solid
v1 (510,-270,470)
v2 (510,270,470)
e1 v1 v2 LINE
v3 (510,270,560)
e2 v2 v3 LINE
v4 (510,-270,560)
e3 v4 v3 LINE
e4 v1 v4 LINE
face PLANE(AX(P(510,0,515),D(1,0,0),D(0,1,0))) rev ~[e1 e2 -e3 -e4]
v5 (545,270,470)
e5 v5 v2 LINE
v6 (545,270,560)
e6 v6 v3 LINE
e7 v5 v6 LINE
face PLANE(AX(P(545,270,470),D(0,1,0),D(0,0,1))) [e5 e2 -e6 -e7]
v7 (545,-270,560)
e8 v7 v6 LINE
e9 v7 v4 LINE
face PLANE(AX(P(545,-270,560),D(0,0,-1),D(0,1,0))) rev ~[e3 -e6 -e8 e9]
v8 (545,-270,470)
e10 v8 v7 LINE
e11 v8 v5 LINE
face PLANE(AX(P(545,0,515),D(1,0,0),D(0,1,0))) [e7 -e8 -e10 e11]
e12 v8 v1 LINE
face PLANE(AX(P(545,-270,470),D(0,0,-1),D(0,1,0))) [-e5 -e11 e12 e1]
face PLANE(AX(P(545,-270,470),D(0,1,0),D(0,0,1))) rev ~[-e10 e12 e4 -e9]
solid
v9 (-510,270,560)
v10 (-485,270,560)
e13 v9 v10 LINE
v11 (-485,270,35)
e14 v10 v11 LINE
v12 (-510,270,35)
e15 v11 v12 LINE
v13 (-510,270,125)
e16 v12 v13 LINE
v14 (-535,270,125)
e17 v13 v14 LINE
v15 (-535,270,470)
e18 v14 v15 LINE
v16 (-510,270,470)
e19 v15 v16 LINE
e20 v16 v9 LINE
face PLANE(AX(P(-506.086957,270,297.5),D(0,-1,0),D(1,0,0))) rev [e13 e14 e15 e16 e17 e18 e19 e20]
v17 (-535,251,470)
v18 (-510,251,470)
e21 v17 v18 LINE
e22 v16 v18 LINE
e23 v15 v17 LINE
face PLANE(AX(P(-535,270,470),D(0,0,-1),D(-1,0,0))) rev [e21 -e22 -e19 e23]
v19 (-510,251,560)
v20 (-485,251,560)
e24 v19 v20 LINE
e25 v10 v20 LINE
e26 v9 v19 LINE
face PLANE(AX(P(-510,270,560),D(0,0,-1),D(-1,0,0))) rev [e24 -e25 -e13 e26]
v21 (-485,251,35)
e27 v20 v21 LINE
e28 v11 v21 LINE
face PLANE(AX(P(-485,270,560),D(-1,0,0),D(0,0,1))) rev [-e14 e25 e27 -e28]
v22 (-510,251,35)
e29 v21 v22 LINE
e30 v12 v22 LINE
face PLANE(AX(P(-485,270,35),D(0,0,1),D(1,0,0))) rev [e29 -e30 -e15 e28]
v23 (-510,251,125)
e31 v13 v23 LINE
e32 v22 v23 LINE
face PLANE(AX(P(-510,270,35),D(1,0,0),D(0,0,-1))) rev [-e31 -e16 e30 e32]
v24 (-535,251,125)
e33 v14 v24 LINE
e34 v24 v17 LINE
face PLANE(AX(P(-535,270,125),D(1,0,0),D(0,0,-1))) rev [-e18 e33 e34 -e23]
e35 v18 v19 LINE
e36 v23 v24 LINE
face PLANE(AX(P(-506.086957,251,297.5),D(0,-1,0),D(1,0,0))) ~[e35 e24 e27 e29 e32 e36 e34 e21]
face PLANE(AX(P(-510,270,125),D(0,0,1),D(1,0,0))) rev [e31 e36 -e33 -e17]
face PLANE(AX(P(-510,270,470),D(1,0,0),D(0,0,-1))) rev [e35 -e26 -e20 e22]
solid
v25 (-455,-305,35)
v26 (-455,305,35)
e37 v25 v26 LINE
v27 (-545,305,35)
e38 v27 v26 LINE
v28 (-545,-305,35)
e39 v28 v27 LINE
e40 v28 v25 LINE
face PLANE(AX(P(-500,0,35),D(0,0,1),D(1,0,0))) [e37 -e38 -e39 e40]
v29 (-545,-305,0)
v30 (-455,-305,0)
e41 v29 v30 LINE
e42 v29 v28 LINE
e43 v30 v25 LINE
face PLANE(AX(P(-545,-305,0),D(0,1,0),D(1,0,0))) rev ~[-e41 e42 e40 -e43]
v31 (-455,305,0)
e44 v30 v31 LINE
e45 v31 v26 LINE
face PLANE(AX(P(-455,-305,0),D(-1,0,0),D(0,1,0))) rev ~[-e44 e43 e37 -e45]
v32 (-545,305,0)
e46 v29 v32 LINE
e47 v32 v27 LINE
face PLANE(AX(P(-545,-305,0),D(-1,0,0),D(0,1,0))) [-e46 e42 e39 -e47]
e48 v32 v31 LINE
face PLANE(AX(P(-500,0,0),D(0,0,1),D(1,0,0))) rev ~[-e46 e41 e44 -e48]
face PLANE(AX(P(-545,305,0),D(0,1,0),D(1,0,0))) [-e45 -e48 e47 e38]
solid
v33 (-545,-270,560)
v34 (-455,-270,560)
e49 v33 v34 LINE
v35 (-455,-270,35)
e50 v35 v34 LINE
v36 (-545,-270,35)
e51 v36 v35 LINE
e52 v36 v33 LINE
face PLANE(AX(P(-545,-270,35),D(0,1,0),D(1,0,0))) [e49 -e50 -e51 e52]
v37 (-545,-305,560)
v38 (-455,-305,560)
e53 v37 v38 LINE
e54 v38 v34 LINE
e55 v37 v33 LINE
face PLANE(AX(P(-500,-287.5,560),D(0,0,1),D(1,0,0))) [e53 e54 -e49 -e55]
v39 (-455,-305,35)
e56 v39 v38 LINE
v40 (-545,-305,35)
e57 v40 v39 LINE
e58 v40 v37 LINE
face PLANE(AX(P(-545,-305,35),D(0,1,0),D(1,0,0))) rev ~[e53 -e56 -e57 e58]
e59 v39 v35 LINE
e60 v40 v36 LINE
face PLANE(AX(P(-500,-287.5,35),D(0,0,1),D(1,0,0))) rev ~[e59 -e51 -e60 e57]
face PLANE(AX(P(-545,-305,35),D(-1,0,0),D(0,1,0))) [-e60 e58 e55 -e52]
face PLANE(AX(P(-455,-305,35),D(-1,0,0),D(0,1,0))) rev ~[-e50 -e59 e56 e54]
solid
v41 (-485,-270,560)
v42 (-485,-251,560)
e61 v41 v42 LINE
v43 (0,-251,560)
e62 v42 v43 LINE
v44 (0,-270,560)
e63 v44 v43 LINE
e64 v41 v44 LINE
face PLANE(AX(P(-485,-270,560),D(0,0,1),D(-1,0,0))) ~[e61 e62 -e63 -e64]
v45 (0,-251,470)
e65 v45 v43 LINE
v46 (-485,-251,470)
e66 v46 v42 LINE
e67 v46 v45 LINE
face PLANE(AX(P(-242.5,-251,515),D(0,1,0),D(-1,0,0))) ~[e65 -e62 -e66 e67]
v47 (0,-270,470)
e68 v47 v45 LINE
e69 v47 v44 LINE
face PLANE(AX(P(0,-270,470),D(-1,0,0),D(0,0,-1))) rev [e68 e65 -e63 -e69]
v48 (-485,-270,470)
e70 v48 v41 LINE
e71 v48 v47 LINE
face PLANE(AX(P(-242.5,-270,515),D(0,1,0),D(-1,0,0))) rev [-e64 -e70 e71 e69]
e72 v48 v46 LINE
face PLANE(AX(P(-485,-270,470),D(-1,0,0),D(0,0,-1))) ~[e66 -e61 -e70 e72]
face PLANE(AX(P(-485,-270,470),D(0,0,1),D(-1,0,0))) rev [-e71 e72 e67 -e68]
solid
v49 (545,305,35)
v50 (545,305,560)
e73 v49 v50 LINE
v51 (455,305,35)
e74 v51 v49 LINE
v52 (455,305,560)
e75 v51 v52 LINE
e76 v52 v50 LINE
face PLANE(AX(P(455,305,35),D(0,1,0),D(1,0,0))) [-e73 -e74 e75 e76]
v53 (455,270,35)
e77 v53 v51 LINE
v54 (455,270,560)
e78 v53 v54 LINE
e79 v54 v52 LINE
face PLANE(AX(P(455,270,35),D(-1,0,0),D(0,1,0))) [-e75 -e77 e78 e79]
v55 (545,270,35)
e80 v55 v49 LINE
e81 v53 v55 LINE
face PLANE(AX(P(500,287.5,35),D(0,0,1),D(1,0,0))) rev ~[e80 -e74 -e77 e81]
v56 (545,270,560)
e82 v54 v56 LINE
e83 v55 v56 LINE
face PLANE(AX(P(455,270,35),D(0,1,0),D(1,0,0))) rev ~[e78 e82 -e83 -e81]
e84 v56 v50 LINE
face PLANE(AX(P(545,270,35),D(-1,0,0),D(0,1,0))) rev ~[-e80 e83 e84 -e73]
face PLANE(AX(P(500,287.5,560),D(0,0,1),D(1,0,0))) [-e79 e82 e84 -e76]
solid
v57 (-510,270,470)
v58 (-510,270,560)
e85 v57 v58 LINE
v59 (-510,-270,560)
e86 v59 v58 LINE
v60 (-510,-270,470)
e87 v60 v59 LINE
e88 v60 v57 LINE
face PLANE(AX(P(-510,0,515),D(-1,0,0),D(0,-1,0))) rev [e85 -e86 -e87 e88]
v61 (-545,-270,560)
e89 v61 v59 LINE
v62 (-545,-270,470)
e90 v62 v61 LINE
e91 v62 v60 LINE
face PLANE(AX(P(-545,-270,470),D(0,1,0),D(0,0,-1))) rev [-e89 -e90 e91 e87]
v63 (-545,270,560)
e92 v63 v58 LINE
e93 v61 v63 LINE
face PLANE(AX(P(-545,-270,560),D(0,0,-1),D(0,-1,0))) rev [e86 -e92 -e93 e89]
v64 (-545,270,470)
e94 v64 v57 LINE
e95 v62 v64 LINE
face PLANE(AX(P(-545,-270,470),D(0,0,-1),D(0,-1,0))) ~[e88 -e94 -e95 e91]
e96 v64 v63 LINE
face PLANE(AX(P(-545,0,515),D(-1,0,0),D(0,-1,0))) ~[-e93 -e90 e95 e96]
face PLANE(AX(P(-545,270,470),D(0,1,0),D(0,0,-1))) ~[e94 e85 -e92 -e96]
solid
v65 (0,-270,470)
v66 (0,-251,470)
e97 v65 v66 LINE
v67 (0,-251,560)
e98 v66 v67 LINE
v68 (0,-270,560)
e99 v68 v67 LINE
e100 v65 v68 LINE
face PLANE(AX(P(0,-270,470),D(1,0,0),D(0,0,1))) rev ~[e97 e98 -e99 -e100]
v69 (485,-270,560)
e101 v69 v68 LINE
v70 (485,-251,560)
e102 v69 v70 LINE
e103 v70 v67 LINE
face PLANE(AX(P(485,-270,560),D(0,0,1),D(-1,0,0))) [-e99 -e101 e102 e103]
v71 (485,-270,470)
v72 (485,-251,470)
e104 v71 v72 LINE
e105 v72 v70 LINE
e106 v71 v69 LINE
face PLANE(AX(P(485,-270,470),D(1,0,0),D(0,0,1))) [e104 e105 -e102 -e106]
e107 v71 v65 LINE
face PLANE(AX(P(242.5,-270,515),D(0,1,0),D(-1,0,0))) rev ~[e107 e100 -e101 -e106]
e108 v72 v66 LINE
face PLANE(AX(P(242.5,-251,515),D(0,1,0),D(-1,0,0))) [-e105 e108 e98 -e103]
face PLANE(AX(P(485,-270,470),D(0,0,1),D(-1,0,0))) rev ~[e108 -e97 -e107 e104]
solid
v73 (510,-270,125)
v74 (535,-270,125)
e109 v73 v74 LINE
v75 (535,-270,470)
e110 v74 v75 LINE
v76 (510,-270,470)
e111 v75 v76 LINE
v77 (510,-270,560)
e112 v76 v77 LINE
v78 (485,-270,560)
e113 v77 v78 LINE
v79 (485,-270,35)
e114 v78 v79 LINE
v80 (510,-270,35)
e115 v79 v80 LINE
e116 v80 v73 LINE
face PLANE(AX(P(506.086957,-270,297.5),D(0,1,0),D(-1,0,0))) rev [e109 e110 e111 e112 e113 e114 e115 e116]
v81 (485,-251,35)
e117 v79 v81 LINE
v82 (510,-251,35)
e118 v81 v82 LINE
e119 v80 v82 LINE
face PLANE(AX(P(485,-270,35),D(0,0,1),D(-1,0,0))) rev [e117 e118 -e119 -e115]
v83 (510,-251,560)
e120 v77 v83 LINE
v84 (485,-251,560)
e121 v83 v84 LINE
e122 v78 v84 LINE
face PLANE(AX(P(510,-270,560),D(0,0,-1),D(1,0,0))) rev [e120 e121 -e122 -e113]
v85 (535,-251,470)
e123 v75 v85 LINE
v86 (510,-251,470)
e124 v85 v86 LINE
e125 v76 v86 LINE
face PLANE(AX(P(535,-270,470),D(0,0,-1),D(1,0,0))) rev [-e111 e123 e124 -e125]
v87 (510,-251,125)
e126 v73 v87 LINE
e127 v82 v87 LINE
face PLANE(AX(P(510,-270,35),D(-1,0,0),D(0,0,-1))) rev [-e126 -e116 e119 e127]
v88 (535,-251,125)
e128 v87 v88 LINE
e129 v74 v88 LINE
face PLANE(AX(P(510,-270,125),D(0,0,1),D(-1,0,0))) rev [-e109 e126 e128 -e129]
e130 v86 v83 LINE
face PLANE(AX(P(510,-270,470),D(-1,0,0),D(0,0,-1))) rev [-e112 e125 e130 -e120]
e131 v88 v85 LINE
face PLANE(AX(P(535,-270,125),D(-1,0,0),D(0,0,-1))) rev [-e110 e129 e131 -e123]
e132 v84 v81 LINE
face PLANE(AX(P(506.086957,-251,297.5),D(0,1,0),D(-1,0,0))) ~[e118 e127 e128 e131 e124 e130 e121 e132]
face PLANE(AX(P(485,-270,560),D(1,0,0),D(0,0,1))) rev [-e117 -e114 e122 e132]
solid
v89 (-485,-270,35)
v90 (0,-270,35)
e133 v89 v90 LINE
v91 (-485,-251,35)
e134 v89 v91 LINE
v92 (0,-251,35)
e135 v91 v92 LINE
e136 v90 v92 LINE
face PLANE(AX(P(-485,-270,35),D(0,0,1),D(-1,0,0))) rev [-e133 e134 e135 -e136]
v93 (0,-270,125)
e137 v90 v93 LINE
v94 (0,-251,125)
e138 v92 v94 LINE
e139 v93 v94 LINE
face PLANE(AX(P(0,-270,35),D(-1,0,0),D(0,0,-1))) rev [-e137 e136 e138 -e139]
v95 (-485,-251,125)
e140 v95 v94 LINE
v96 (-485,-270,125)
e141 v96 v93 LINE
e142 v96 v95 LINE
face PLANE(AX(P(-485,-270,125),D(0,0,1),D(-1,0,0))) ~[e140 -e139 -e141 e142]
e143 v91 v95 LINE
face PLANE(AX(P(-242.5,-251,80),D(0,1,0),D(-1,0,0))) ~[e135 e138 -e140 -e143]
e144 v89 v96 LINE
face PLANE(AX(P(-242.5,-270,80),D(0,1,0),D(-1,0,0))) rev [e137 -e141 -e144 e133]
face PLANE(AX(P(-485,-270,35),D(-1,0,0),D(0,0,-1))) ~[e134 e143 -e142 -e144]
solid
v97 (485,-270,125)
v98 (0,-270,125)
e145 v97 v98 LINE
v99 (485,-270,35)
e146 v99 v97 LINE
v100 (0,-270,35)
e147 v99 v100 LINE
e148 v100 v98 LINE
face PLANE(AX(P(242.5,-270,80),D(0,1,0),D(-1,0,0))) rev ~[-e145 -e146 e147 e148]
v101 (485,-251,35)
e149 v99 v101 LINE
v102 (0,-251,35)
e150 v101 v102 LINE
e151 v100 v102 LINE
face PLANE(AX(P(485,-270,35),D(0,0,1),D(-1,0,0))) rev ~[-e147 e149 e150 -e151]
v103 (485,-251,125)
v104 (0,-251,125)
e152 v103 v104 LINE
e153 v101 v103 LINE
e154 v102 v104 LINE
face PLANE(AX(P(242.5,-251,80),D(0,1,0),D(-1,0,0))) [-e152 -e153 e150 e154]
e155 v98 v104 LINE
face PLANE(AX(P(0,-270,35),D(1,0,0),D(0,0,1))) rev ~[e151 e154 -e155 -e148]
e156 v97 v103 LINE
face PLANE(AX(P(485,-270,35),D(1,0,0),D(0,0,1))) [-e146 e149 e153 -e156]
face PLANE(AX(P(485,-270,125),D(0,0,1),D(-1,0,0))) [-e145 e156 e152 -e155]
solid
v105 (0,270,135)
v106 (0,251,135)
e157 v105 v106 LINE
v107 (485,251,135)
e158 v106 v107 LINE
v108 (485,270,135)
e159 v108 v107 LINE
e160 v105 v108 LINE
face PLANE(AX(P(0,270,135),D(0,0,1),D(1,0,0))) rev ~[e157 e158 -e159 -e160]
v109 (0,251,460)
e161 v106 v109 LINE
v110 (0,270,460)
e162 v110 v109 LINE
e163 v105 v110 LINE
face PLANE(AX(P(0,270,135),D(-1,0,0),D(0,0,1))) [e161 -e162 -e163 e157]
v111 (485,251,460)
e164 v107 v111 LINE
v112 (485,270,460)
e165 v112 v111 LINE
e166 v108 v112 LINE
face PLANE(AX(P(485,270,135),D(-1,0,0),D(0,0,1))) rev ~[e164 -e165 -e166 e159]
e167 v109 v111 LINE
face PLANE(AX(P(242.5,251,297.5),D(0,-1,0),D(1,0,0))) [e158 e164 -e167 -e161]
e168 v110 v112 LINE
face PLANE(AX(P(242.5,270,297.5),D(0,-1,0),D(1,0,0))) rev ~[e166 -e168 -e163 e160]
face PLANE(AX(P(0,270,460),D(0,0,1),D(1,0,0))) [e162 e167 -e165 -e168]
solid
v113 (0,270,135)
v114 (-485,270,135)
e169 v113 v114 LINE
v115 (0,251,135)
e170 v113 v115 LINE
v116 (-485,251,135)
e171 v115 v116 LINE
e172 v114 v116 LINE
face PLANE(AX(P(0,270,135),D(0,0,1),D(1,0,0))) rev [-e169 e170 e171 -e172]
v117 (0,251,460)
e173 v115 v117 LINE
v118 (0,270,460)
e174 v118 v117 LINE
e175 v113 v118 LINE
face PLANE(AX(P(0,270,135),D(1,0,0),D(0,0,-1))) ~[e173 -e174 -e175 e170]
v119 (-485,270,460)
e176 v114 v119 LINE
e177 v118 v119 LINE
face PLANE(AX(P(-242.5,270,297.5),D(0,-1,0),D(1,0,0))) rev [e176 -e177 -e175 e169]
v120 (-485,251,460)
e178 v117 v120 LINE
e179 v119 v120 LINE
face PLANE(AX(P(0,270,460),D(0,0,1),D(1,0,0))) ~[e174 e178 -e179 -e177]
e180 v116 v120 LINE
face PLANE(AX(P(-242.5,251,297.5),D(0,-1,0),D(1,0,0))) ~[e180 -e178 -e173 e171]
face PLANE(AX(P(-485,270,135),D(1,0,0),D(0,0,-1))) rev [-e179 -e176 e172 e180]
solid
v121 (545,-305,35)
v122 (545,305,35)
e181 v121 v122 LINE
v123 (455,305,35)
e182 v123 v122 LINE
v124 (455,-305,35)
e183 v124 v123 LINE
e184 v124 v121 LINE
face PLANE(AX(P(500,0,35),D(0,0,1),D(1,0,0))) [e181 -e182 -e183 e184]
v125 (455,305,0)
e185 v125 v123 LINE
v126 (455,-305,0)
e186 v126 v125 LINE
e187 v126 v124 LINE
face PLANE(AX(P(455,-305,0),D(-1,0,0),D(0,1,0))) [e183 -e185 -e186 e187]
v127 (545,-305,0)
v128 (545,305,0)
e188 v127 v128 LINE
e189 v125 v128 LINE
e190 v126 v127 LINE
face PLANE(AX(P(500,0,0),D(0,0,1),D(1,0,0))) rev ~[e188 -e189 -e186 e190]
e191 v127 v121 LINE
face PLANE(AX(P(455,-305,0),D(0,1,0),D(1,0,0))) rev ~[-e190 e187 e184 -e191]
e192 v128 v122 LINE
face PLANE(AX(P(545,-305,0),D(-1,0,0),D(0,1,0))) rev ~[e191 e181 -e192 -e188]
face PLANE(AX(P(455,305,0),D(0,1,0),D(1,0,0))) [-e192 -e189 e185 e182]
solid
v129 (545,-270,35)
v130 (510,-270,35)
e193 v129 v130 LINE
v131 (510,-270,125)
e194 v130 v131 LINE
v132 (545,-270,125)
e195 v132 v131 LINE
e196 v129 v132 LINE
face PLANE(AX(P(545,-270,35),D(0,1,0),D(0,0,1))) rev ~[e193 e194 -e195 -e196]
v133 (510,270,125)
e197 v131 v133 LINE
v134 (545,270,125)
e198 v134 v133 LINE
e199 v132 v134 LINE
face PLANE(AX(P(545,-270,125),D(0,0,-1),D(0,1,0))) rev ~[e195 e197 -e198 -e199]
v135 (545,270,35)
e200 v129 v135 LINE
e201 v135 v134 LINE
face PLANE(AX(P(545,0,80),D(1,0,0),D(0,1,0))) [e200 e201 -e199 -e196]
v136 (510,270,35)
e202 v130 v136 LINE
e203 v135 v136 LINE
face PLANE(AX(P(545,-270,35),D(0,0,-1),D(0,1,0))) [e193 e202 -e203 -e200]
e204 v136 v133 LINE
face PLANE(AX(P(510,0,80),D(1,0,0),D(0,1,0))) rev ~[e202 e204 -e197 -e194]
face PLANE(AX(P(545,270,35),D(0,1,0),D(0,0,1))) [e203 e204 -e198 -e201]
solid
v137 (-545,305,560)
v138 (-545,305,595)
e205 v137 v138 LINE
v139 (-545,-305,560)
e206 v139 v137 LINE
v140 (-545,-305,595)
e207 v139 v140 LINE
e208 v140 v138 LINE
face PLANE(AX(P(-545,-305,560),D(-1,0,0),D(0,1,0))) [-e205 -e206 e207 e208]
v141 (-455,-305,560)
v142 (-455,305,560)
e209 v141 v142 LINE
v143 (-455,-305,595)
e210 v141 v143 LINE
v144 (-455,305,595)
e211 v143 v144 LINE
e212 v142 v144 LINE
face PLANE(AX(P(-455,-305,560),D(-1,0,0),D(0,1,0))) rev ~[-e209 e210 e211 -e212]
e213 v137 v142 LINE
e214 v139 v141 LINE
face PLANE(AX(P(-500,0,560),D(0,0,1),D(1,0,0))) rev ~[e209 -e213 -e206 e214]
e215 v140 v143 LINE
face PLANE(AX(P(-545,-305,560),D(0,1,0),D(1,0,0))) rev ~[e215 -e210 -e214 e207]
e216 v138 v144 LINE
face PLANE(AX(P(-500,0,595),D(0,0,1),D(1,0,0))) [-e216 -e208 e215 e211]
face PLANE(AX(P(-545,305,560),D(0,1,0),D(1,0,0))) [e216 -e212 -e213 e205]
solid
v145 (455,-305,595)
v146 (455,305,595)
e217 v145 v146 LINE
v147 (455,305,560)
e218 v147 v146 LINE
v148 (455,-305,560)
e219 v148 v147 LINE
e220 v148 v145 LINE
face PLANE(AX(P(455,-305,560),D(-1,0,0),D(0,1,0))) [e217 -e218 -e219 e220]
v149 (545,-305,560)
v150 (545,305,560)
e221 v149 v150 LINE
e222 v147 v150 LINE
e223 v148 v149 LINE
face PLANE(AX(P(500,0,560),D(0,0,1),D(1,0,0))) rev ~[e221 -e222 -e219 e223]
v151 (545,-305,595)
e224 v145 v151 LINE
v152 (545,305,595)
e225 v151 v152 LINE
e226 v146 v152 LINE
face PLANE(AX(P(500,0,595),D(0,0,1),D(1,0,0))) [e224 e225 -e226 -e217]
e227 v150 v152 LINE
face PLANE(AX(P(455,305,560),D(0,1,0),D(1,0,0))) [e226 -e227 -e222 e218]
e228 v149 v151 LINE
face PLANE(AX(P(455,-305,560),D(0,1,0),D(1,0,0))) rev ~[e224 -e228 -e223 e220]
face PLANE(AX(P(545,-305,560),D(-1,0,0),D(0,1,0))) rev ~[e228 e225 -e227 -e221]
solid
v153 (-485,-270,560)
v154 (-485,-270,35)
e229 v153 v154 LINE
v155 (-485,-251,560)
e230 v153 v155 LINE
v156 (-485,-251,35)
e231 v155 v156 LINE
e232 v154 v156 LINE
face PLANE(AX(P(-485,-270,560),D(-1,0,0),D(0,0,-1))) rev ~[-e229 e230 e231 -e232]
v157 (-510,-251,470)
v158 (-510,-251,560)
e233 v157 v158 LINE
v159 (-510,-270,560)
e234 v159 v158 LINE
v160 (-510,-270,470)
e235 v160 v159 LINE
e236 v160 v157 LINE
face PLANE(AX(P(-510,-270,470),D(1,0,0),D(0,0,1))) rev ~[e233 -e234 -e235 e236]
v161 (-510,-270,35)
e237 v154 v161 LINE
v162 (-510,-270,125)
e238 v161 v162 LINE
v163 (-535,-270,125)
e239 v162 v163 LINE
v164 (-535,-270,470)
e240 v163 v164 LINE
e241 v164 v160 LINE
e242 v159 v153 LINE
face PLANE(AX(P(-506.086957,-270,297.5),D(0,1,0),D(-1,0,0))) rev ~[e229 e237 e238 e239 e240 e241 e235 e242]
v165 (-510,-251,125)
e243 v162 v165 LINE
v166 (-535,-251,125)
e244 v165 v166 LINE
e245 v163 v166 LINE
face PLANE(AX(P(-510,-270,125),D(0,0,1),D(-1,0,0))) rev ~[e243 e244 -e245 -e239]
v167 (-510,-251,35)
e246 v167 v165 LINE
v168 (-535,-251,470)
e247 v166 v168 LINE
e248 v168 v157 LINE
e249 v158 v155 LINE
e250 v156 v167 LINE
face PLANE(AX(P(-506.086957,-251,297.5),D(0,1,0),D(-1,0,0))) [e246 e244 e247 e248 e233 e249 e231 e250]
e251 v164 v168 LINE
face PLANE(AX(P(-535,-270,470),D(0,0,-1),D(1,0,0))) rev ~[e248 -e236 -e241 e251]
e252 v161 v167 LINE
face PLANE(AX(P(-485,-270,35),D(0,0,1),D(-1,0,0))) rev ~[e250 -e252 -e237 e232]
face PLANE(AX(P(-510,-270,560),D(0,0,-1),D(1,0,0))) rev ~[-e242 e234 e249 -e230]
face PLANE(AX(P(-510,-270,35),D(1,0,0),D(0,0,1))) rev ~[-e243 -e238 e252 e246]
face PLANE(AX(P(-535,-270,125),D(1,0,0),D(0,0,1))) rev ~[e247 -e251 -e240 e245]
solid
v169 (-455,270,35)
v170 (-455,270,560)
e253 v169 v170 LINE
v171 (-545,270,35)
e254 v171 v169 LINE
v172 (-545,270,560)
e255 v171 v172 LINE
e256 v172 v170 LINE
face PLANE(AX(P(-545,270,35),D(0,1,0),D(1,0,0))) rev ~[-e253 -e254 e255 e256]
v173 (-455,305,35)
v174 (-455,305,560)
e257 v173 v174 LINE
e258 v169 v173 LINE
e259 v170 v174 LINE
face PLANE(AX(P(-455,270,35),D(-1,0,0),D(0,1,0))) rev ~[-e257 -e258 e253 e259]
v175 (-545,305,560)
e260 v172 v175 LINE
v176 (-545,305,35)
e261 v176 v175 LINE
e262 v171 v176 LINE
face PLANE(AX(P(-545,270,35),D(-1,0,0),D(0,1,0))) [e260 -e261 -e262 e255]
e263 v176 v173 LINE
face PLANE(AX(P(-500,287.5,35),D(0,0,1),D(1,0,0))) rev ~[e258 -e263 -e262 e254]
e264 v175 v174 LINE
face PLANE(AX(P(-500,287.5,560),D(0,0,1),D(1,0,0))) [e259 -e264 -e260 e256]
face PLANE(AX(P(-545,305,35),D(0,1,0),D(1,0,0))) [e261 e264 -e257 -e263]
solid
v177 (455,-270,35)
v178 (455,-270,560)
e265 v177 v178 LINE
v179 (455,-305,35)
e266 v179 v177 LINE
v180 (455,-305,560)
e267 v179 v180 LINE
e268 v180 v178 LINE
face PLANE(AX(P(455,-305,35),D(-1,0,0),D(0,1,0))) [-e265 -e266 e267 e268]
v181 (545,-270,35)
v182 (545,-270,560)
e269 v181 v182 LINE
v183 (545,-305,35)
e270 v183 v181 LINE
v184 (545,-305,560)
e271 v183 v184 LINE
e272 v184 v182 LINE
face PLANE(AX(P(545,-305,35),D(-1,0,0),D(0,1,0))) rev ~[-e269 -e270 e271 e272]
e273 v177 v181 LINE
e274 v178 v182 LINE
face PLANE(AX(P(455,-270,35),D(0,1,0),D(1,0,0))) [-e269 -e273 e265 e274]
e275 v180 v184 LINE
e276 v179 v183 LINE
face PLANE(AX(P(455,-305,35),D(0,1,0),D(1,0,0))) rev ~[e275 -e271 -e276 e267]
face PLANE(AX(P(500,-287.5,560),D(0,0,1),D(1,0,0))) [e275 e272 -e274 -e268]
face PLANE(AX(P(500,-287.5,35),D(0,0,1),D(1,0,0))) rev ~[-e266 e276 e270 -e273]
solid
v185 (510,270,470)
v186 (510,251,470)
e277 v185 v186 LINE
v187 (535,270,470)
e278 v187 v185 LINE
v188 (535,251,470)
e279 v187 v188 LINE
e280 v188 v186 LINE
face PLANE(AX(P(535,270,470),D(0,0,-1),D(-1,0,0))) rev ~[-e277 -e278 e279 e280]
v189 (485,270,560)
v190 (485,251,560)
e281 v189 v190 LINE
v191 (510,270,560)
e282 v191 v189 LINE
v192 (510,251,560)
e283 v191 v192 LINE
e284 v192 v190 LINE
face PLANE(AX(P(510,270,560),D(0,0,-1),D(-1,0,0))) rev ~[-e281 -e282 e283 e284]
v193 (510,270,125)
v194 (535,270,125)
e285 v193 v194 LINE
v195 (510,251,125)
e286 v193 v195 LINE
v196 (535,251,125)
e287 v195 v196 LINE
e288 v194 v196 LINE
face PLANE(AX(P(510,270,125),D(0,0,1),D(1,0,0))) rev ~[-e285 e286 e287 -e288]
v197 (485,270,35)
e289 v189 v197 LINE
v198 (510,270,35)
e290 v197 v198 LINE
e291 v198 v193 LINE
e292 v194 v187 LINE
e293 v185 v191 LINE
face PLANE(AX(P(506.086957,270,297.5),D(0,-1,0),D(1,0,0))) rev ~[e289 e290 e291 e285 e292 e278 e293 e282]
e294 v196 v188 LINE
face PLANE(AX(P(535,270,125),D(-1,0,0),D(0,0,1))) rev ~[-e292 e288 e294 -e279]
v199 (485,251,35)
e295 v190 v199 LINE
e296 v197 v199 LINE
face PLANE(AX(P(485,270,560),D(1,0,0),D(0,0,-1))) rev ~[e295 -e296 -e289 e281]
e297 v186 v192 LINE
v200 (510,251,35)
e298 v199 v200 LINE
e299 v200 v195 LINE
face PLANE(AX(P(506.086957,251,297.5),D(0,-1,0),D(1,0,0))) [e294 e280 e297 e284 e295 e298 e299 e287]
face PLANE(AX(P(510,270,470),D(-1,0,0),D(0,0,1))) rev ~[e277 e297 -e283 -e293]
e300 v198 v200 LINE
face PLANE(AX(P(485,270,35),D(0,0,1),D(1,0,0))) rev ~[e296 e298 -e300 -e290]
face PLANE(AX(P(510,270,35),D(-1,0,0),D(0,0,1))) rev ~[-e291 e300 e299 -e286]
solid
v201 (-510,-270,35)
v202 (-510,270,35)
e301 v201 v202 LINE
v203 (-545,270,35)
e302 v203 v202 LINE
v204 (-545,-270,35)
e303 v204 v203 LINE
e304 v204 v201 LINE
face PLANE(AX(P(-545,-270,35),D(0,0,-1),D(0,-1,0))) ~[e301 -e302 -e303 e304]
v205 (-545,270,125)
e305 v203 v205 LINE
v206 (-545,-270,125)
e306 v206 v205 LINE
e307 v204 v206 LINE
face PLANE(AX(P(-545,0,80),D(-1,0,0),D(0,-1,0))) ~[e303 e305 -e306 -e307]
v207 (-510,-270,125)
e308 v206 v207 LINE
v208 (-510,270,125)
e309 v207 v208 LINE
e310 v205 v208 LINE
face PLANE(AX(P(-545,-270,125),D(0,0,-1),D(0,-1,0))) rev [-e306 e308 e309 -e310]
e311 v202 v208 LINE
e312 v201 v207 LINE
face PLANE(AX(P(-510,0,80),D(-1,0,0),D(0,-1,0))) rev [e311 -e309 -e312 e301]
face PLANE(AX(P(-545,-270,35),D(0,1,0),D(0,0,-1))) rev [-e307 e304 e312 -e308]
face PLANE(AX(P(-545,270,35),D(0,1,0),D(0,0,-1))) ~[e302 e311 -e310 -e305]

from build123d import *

# Parameters (mm, degrees)
F0_W      = 90
F0_H      = 610
F1_DEPTH  = 35
F2_W      = 90
F2_H      = 35
F3_DEPTH  = 525
F4_W      = 90
F4_H      = 610
F5_DEPTH  = 35
F6_W      = 540
F6_H      = 90
F7_DEPTH  = 35
F9_DEPTH  = 19
F11_W     = 485
F11_H     = 325
F12_DEPTH = 19
F13_W     = 485
F13_H     = 90
F14_DEPTH = 19


with BuildPart() as f1:
    # F0 (on Top) → F1 (new body)
    with BuildSketch(Plane.XY):
        with Locations((-500, 0)):
            Rectangle(F0_W, F0_H)
        with Locations((500, 0)):
            Rectangle(F0_W, F0_H)
    extrude(amount=F1_DEPTH)


with BuildPart() as f3:
    # F2 (on face) → F3 (new body)
    with BuildSketch(Plane.XY.offset(35)):
        with Locations((-500, 287.5)):
            Rectangle(F2_W, F2_H)
        with Locations((-500, -287.5)):
            Rectangle(F2_W, F2_H)
        with Locations((500, 287.5)):
            Rectangle(F2_W, F2_H)
        with Locations((500, -287.5)):
            Rectangle(F2_W, F2_H)
    extrude(amount=F3_DEPTH)


with BuildPart() as f5:
    # F4 (on face) → F5 (new body)
    with BuildSketch(Plane.XY.offset(560)):
        with Locations((-500, 0)):
            Rectangle(F4_W, F4_H)
        with Locations((500, 0)):
            Rectangle(F4_W, F4_H)
    extrude(amount=F5_DEPTH)


with BuildPart() as f7:
    # F6 (on face) → F7 (new body)
    with BuildSketch(Plane.YZ.offset(545)):
        with Locations((0, 80)):
            Rectangle(F6_W, F6_H)
        with Locations((0, 515)):
            Rectangle(F6_W, F6_H)
    extrude(amount=-F7_DEPTH)


with BuildPart() as f9:
    # F8 (on face) → F9 (new body)
    with BuildSketch(Plane.XZ.offset(-270)):
        Polygon((485, 560), (485, 35), (510, 35), (510, 125), (535, 125), (535, 470), (510, 470), (510, 560), align=None)
    extrude(amount=F9_DEPTH)


with BuildPart() as f10_1:
    # F10: instance of F9
    add(f9.part.mirror(Plane.XZ))


with BuildPart() as f12:
    # F11 (on face) → F12 (new body)
    with BuildSketch(Plane.XZ.offset(-270)):
        with Locations((242.5, 297.5)):
            Rectangle(F11_W, F11_H)
    extrude(amount=F12_DEPTH)


with BuildPart() as f14:
    # F13 (on face) → F14 (new body)
    with BuildSketch(Plane(origin=(0, -270, 0), x_dir=(-1, 0, 0), z_dir=(0, 1, 0))):
        with Locations((-242.5, 515)):
            Rectangle(F13_W, F13_H)
        with Locations((-242.5, 80)):
            Rectangle(F13_W, F13_H)
    extrude(amount=F14_DEPTH)


with BuildPart() as f15_1:
    # F15: instance of F7
    add(f7.part.mirror(Plane.YZ))


with BuildPart() as f15_2:
    # F15: instance of F9
    add(f9.part.mirror(Plane.YZ))


with BuildPart() as f15_3:
    # F15: instance of F10_1
    add(f10_1.part.mirror(Plane.YZ))


with BuildPart() as f15_4:
    # F15: instance of F14
    add(f14.part.mirror(Plane.YZ))


with BuildPart() as f15_5:
    # F15: instance of F12
    add(f12.part.mirror(Plane.YZ))


solid = Compound([f1.part, f3.part, f5.part, f7.part, f9.part, f10_1.part, f12.part, f14.part, f15_1.part, f15_2.part, f15_3.part, f15_4.part, f15_5.part])
